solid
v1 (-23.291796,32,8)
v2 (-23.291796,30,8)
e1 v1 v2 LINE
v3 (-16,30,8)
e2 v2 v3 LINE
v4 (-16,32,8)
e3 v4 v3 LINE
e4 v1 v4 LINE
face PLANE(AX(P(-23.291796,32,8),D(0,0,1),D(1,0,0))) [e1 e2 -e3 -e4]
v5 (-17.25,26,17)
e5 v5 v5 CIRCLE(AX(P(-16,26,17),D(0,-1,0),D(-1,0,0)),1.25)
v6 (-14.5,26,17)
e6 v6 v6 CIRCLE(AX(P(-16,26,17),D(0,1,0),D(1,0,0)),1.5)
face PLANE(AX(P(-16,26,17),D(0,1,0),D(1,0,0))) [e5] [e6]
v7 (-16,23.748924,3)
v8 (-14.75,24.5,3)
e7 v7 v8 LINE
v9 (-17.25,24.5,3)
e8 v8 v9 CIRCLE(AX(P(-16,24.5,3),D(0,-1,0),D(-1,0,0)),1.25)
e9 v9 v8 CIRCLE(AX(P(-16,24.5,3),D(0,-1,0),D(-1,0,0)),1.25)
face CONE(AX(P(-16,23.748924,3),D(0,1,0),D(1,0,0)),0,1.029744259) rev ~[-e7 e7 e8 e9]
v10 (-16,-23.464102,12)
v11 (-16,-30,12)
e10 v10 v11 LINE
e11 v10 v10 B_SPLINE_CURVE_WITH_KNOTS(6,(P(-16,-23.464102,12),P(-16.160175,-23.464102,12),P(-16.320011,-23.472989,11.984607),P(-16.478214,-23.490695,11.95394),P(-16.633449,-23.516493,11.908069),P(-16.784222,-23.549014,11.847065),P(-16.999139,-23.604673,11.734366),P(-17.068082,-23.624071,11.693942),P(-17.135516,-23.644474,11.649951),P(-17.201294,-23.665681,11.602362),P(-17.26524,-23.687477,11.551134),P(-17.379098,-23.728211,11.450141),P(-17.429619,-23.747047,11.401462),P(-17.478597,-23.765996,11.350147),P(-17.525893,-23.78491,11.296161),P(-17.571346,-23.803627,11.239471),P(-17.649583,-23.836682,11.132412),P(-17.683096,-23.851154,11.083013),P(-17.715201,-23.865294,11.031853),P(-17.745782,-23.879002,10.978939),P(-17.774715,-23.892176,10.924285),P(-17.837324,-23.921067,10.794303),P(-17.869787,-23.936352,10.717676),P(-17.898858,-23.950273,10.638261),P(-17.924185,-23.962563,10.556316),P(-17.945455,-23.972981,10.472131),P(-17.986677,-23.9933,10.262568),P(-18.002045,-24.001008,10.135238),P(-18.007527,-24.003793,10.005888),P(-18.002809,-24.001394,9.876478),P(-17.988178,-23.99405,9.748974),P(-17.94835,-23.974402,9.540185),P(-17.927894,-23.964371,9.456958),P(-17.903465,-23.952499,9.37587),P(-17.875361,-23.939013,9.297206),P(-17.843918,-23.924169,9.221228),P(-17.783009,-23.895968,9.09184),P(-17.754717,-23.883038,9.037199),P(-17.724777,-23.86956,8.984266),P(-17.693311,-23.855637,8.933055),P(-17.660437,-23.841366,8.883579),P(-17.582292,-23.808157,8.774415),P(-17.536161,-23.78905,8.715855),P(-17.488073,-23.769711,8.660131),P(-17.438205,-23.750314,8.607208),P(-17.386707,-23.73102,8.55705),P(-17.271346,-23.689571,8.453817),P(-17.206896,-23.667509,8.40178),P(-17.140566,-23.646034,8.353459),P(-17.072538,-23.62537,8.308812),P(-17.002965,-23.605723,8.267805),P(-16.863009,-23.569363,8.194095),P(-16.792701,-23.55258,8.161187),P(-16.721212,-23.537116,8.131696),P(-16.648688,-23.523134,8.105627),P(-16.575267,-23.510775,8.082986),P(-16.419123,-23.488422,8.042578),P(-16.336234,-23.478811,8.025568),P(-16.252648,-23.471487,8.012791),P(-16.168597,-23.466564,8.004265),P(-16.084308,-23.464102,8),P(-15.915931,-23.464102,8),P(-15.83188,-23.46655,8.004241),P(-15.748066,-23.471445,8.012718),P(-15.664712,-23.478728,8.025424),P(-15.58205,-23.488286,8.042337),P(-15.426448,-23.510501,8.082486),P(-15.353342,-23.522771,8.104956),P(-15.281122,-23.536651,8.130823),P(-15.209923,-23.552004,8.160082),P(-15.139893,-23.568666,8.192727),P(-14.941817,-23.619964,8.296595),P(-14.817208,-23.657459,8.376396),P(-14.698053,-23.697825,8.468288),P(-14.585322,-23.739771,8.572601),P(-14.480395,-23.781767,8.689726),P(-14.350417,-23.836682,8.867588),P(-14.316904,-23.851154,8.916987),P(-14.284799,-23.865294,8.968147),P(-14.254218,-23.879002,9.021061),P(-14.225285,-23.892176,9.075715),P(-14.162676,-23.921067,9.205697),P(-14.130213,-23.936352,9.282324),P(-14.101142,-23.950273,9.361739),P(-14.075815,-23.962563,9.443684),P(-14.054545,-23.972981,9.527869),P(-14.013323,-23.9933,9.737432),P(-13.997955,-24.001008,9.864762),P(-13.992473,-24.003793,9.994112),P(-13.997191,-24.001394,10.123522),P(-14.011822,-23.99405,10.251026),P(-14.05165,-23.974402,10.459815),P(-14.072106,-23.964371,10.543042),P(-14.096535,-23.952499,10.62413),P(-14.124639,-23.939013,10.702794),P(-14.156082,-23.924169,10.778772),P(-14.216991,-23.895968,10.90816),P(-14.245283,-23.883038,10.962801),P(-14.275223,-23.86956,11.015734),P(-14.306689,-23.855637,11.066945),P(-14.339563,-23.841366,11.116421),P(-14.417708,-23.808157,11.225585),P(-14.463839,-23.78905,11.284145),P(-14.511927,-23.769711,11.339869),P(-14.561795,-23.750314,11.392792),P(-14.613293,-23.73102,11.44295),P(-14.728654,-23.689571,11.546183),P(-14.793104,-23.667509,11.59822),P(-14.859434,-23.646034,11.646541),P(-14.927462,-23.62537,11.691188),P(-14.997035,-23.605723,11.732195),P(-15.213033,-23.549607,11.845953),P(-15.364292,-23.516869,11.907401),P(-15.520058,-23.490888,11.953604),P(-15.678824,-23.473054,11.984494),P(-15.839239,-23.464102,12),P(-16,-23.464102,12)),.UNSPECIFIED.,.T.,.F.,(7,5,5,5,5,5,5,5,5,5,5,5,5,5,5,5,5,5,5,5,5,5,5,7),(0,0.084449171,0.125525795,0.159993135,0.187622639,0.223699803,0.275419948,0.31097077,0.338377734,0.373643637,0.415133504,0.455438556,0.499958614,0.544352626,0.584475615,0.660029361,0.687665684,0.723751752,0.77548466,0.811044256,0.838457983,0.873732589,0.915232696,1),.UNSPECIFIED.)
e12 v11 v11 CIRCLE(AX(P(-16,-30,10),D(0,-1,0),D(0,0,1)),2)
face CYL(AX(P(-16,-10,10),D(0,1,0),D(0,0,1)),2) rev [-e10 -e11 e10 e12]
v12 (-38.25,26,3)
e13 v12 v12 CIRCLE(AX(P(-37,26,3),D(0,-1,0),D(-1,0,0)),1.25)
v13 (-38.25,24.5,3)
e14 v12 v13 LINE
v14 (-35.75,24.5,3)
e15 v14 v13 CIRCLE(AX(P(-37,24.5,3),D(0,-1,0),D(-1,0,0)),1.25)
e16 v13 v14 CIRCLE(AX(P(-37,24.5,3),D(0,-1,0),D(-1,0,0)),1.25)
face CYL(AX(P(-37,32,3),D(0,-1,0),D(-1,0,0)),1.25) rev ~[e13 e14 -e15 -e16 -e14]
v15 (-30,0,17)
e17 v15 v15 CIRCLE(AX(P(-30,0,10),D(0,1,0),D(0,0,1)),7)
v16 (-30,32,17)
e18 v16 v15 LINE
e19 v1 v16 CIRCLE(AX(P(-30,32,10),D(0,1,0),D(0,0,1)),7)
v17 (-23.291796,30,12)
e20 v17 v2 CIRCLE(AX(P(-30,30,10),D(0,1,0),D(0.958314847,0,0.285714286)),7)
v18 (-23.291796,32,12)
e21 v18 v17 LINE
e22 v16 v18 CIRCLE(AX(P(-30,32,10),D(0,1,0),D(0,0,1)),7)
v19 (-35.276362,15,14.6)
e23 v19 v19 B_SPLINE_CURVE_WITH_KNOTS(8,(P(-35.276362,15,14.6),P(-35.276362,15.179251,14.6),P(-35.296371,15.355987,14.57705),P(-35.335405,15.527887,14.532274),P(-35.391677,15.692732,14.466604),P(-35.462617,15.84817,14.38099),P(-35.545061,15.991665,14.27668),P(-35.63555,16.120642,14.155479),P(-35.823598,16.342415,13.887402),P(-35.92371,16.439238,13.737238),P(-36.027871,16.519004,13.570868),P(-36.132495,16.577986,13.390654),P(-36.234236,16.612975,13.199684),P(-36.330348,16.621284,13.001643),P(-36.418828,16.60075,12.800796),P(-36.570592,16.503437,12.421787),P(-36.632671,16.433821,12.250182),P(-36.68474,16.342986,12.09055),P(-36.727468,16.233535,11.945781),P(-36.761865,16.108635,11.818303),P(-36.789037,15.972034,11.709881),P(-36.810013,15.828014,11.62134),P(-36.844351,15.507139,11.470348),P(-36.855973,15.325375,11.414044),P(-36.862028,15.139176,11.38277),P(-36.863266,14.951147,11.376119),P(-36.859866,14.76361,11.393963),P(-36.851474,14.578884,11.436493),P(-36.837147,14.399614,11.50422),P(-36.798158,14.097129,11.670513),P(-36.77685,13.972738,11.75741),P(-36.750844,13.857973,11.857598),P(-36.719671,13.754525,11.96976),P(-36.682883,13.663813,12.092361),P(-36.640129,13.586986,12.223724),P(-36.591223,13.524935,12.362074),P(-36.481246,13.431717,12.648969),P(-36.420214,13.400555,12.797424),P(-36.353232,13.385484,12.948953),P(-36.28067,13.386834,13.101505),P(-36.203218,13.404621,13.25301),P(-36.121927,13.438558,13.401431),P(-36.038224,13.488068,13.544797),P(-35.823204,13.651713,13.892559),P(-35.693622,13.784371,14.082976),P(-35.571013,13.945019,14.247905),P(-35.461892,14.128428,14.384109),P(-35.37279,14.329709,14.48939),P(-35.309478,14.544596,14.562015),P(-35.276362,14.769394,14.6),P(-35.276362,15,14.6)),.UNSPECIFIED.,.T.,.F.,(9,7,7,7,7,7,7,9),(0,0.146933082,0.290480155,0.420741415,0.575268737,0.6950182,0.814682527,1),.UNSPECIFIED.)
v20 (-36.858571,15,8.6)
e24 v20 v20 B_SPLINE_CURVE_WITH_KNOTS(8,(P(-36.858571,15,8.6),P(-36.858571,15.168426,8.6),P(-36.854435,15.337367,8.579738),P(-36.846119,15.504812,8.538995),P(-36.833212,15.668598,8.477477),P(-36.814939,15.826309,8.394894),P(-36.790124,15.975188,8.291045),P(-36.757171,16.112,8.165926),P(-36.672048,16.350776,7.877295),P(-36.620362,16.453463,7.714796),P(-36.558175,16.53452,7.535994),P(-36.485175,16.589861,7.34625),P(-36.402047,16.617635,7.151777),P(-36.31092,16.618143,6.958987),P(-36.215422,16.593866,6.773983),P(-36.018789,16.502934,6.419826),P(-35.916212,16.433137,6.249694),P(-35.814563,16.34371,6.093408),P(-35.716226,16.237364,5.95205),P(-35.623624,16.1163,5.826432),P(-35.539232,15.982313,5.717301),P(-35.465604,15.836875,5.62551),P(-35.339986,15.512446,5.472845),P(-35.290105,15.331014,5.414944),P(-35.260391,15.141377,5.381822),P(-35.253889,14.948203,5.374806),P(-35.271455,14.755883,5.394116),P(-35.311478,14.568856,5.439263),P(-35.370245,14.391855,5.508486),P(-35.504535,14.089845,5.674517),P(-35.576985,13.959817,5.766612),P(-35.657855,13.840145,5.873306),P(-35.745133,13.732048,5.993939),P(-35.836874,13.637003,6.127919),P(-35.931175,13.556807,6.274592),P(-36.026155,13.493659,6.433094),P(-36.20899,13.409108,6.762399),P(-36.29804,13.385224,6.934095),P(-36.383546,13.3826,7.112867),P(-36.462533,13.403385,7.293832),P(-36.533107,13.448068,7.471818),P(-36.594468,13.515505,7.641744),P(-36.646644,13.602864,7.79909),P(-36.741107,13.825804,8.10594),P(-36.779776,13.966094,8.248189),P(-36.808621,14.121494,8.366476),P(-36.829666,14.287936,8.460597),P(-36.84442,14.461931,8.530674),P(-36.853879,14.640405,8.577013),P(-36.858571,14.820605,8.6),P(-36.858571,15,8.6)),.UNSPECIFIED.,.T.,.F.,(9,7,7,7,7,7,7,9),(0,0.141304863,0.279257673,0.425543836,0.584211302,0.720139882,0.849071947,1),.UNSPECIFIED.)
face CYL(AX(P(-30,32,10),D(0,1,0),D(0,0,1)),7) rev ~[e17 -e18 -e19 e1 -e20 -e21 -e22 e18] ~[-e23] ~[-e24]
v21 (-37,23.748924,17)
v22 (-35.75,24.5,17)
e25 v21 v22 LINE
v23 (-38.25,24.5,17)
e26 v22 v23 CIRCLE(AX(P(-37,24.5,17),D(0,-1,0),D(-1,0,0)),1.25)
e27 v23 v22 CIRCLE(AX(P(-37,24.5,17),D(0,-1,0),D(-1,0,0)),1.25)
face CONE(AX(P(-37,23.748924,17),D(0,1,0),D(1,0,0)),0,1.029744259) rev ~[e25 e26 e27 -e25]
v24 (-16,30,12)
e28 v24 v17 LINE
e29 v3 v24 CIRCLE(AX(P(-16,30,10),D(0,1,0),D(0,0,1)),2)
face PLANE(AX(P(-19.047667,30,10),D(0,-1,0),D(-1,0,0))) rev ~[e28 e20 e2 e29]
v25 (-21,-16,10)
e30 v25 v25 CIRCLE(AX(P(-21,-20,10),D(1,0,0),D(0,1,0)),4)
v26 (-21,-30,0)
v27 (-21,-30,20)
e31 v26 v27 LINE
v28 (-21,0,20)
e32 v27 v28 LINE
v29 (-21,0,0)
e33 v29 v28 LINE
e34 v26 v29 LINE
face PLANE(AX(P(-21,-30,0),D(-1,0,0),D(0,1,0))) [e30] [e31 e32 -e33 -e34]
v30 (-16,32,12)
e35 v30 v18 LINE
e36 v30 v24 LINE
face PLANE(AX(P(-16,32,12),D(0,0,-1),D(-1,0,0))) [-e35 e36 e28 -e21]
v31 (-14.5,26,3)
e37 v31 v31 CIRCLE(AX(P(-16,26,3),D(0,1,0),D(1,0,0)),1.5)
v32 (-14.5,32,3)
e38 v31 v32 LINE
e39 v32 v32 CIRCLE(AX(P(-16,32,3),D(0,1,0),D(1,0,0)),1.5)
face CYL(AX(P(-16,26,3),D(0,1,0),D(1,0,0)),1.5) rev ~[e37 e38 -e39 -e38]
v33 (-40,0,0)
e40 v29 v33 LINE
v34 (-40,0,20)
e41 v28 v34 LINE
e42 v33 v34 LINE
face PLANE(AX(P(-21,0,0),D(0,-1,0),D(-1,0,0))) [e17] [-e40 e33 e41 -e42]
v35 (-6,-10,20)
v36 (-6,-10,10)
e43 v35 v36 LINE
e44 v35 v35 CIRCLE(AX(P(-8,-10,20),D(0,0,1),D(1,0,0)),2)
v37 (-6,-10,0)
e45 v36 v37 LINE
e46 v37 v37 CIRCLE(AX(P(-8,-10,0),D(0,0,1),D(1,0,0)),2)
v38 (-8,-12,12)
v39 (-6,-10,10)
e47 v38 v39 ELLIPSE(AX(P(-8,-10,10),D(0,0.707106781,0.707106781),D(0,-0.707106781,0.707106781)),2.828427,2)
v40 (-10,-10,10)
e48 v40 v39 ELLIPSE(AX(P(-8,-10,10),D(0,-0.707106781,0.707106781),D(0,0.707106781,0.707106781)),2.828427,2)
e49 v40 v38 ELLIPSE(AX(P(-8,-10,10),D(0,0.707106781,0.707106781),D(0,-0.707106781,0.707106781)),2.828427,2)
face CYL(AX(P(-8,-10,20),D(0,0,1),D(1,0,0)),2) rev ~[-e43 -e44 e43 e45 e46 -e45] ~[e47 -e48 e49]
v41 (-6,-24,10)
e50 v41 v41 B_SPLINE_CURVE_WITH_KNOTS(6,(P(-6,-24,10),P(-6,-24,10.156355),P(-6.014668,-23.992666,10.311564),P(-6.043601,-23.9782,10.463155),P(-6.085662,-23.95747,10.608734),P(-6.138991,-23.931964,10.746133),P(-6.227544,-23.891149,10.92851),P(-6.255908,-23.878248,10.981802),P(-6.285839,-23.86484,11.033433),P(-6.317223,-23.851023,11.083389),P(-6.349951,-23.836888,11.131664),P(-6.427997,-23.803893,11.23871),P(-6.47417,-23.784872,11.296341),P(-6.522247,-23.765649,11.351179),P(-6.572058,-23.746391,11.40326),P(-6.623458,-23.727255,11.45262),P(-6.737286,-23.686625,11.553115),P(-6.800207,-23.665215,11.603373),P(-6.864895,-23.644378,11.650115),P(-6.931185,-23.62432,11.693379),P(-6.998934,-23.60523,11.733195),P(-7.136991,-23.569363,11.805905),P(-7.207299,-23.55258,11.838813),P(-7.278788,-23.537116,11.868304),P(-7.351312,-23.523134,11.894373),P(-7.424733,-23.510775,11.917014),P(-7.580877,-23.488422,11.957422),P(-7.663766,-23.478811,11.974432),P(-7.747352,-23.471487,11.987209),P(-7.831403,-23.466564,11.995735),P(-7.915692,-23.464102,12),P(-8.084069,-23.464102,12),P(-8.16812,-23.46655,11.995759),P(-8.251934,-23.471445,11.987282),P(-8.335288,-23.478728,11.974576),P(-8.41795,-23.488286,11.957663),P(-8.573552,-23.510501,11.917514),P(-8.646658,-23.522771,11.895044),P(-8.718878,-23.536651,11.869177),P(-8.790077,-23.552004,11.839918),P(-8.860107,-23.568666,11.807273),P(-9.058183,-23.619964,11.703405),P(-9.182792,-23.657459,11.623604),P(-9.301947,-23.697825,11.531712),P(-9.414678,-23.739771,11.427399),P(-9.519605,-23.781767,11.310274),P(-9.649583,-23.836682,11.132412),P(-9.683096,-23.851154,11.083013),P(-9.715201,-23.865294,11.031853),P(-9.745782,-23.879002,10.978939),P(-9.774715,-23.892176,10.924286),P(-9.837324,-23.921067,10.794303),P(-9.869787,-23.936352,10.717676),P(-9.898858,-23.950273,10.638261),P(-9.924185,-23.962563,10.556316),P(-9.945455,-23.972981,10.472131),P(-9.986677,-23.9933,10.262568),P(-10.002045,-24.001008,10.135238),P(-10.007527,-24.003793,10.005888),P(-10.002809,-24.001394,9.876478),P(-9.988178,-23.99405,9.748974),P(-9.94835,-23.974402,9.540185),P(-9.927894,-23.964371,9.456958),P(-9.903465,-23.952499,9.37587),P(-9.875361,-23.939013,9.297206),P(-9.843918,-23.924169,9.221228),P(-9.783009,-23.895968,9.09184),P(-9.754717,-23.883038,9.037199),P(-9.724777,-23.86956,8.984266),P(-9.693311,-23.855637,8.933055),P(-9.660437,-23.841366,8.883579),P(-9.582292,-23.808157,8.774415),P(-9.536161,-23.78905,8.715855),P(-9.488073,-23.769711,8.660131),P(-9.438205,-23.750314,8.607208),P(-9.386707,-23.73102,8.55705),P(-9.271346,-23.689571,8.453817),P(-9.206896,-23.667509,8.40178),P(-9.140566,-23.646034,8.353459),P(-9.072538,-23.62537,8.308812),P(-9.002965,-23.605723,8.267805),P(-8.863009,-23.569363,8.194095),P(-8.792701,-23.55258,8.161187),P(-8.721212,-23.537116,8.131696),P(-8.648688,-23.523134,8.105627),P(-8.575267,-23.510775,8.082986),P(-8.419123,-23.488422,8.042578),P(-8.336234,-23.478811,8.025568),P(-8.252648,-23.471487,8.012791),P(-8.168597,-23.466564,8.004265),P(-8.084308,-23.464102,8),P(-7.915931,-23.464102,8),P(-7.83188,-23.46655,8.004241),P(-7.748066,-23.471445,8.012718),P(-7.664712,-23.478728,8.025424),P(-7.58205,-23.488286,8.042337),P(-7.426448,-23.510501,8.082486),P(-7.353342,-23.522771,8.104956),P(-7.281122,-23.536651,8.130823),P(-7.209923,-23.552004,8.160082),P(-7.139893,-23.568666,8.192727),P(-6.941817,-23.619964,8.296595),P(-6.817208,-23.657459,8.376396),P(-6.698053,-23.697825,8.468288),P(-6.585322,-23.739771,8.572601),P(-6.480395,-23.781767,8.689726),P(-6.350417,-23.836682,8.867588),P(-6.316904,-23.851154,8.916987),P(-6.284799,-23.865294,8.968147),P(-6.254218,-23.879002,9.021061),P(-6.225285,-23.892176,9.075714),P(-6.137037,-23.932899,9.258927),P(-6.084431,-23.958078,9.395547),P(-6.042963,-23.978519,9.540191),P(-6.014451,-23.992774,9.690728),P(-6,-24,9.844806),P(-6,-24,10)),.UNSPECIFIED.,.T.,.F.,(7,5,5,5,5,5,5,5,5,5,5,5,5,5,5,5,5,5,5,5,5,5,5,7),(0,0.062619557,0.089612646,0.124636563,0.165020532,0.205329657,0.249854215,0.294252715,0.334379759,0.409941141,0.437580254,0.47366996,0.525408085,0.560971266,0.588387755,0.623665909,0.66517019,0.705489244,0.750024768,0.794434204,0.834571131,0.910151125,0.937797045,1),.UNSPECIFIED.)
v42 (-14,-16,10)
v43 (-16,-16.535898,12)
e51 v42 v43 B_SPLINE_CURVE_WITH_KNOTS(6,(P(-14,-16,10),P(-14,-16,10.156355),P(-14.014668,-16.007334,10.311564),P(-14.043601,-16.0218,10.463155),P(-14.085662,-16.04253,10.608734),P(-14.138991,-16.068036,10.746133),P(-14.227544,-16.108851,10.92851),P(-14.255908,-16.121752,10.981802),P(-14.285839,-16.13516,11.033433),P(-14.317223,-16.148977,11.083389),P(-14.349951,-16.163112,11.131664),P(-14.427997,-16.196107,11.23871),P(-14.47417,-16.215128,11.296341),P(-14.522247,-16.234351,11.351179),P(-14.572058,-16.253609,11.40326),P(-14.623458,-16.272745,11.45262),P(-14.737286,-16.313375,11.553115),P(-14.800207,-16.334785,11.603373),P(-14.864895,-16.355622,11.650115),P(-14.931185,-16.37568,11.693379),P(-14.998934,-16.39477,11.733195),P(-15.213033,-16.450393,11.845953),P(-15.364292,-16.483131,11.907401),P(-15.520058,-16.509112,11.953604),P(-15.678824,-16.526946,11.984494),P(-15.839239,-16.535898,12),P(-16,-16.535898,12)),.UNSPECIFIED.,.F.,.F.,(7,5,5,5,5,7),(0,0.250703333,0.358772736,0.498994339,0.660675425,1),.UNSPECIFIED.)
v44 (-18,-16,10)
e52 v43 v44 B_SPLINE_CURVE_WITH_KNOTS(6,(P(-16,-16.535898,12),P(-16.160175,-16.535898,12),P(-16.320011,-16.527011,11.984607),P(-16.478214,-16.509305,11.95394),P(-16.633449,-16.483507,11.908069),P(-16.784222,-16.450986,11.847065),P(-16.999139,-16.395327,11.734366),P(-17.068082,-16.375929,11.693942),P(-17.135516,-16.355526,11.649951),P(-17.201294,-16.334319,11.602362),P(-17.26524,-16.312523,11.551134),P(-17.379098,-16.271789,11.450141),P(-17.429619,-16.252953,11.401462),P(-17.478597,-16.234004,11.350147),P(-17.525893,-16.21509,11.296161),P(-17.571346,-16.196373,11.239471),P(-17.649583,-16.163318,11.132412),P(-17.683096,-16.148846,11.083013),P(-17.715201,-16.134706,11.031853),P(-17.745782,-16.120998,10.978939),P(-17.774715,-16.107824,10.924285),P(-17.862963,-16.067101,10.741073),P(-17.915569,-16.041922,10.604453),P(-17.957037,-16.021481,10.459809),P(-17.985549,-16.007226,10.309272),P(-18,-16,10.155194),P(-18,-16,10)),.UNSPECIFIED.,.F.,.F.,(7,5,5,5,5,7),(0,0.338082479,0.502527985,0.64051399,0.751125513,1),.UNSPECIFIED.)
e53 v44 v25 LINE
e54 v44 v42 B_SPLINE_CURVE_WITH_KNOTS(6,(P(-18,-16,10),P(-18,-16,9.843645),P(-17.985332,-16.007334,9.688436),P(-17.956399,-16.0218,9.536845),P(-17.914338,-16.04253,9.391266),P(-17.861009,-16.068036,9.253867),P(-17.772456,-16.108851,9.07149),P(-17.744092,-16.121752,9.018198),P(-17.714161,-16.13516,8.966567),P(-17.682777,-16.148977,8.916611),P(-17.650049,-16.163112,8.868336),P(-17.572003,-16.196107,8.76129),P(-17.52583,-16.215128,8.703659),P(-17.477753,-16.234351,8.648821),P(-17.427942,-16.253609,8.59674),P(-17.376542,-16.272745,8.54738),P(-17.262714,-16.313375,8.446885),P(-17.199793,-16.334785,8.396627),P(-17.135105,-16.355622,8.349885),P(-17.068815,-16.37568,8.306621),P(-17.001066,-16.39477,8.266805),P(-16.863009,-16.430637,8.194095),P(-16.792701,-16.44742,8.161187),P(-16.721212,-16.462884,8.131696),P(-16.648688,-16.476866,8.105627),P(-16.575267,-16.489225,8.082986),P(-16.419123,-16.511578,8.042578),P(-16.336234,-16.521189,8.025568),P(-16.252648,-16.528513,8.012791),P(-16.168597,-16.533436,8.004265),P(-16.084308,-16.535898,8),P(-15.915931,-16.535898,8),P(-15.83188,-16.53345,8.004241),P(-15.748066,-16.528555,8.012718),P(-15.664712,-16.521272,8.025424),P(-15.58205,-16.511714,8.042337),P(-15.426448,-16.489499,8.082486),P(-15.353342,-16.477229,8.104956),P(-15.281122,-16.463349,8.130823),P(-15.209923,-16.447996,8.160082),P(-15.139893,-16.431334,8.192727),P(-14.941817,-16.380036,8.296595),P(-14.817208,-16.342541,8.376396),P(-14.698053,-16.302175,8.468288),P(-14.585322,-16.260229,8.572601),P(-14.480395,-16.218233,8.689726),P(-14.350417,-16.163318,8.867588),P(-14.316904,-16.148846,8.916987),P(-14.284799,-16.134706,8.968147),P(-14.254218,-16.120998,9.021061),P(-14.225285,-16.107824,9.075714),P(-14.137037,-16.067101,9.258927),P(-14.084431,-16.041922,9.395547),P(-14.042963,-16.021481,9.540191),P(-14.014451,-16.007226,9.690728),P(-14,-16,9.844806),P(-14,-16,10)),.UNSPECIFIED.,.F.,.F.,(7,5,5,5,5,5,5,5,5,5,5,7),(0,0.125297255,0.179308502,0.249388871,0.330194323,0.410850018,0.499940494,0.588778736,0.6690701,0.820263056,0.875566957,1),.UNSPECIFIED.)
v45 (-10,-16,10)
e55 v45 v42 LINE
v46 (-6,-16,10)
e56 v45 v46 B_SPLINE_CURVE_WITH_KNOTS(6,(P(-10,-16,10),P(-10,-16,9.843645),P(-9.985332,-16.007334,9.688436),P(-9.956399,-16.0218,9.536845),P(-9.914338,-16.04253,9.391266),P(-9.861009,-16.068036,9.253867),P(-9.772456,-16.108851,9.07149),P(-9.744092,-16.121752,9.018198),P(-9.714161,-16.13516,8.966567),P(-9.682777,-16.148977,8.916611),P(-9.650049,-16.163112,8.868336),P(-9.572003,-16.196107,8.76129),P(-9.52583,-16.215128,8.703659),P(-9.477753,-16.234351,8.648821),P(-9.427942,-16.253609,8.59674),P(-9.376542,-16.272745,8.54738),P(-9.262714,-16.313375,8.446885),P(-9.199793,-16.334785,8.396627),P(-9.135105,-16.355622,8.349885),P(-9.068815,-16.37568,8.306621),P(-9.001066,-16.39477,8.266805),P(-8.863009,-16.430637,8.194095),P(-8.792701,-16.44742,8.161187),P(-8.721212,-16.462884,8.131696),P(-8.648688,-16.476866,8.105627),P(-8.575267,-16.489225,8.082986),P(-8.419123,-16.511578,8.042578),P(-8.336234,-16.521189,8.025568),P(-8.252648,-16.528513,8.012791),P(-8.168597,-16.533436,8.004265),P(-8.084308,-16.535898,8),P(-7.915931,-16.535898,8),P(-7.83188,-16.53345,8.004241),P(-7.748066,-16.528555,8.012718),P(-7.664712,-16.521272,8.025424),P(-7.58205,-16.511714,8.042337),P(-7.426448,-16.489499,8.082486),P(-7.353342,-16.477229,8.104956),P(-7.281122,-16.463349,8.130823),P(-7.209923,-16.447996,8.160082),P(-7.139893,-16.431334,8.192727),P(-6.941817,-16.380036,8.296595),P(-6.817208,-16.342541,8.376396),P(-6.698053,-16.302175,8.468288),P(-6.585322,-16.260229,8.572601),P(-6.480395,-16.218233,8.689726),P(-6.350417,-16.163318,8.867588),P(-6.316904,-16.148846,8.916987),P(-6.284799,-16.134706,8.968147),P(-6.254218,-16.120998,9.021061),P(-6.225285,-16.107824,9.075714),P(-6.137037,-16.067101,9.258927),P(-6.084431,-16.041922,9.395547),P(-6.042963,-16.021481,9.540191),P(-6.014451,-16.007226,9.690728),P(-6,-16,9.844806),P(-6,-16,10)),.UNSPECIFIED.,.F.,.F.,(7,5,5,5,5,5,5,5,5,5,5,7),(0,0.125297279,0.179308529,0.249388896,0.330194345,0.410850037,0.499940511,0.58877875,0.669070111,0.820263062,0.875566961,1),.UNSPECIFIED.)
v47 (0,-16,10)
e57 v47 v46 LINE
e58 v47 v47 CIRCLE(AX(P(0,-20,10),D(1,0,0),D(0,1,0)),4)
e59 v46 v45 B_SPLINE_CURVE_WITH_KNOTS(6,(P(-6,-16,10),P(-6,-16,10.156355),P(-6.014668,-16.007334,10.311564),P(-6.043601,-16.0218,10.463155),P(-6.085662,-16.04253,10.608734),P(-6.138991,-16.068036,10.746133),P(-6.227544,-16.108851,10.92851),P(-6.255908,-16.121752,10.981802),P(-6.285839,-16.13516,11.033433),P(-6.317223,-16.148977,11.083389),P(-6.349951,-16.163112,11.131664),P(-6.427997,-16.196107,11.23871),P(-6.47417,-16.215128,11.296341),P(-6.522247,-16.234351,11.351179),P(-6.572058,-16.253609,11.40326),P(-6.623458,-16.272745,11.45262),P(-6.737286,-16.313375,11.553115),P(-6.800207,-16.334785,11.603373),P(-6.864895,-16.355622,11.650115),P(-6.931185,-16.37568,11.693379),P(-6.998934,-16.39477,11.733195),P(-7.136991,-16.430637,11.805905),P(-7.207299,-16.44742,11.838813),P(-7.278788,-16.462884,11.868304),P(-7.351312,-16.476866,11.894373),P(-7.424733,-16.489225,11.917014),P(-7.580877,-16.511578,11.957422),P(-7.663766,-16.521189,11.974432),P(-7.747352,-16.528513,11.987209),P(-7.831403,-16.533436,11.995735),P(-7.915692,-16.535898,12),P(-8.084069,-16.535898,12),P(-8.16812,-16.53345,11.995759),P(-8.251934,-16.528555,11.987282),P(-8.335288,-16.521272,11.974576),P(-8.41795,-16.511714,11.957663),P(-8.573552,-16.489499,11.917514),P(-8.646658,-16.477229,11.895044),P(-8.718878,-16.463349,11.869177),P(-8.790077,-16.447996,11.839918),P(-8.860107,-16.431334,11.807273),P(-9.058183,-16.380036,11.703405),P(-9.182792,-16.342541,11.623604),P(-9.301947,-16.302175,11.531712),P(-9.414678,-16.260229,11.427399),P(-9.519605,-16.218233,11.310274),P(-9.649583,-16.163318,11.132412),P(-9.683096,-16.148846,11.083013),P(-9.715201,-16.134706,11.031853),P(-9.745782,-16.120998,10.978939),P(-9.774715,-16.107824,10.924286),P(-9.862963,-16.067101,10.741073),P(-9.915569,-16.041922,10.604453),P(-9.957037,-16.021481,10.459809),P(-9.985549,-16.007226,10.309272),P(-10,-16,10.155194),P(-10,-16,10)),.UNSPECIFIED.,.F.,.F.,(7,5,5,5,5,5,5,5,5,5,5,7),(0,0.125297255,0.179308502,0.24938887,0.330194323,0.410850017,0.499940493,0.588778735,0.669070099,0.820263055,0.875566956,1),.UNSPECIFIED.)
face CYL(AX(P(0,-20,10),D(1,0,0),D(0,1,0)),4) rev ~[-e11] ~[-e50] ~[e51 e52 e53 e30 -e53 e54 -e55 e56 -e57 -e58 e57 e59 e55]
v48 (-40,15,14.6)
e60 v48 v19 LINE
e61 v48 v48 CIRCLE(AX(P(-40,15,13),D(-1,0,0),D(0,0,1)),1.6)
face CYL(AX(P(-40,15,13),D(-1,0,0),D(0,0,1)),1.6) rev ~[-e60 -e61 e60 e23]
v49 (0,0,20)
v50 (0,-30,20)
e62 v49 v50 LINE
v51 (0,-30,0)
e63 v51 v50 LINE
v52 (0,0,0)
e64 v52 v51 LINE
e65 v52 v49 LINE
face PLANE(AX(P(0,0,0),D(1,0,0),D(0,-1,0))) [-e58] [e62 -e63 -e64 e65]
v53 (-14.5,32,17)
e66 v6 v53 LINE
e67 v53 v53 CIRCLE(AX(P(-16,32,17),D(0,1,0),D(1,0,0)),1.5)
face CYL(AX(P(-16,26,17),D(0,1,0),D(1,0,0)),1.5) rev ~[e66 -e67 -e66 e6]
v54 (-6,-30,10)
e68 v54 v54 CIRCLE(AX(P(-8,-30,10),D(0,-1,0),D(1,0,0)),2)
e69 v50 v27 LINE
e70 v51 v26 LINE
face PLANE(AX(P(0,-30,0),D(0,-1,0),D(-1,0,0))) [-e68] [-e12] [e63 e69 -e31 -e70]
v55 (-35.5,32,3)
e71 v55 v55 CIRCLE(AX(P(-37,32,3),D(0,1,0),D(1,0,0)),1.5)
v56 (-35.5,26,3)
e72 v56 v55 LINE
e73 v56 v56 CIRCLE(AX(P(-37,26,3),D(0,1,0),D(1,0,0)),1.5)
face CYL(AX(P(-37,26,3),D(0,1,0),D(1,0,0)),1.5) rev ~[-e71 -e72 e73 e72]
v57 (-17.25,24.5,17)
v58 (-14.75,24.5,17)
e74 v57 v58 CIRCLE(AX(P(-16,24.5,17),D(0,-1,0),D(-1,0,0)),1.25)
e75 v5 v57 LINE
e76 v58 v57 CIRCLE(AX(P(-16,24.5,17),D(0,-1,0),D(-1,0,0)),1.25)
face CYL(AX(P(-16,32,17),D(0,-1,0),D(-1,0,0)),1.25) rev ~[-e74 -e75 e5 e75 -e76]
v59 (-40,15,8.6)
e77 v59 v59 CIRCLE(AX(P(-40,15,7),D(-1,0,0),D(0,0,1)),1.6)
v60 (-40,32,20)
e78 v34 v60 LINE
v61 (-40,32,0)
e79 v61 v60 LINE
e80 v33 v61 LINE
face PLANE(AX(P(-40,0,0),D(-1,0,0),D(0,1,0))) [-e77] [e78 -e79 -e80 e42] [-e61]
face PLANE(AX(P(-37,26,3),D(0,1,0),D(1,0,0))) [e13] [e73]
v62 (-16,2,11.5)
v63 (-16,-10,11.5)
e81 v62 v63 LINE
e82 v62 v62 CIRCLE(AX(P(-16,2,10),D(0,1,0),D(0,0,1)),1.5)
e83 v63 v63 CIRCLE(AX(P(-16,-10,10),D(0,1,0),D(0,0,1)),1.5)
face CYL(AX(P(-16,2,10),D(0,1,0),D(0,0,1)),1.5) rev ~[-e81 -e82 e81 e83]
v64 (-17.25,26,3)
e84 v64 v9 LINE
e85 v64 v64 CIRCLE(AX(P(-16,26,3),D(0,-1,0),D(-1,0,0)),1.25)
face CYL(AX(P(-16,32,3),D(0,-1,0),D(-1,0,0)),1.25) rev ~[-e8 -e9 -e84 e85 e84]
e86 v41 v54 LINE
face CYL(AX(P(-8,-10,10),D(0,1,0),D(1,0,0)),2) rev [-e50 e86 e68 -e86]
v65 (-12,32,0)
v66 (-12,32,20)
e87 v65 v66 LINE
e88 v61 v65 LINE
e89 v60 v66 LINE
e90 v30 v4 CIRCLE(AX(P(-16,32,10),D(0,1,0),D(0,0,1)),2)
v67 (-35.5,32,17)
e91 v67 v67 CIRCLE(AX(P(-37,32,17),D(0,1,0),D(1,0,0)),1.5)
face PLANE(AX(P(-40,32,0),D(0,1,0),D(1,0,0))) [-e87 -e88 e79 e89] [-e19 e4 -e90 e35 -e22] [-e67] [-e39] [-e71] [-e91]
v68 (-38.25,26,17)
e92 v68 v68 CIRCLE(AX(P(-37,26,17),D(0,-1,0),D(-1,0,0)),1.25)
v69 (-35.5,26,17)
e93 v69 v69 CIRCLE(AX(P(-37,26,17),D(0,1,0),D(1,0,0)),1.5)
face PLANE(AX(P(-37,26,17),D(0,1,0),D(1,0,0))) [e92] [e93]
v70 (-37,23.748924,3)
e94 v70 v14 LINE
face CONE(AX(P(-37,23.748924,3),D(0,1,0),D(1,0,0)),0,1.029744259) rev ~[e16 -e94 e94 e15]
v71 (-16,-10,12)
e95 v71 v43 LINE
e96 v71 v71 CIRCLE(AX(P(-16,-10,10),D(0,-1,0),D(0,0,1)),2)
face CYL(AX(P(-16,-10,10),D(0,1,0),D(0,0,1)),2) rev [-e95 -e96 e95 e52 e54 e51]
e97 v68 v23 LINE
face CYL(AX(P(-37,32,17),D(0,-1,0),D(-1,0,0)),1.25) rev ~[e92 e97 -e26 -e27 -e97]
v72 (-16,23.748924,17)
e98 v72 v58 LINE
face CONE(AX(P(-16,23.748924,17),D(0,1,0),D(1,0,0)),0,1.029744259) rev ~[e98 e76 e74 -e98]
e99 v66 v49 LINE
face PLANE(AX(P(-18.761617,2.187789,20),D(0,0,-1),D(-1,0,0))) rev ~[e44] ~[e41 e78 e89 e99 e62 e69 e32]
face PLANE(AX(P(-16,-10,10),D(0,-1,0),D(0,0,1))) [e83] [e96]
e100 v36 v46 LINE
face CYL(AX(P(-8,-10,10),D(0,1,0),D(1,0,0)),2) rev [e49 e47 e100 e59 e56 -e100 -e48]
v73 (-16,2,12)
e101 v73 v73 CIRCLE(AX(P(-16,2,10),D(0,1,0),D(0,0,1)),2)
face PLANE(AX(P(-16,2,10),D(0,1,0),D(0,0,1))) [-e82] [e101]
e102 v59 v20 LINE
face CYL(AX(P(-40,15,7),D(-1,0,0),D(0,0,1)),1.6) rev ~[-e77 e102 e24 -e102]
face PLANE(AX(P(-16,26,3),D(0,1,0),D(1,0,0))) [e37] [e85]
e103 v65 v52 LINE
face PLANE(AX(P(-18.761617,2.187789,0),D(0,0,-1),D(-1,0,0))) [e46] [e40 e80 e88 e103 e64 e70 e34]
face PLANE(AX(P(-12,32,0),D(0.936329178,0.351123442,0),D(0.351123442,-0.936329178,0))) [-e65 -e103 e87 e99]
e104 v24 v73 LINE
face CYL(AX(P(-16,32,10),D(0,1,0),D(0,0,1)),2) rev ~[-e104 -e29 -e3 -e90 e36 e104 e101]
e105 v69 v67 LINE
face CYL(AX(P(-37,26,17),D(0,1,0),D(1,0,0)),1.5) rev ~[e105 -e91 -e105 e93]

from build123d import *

# Parameters (mm, degrees)
BOSS_EXTRUDE1_DEPTH         = 20
SKETCH2_R                   = 7
CUT_EXTRUDE1_DEPTH          = 77.446059414
SKETCH3_R                   = 4
CUT_EXTRUDE2_DEPTH          = 55.990908339
SKETCH4_R                   = 2
CUT_EXTRUDE3_DEPTH          = 30
CUT_EXTRUDE5_DEPTH          = 2
SKETCH6_R                   = 2
CUT_EXTRUDE6_DEPTH          = 55.990908339
CUT_EXTRUDE7_REACH          = 56.991
CUT_EXTRUDE7_END_RADIUS     = 7
SKETCH7_R                   = 1.6
M3_TAPPED_HOLE1_D           = 2.5
M3_TAPPED_HOLE1_DEPTH       = 7.5
M3_TAPPED_HOLE1_CBORE_D     = 3
M3_TAPPED_HOLE1_CBORE_DEPTH = 6
M3_TAPPED_HOLE1_TIP         = 0.751075774
CUT_EXTRUDE8_START          = -20
SKETCH11_R                  = 2
CUT_EXTRUDE8_DEPTH          = 20
SKETCH12_R                  = 1.5
CUT_EXTRUDE9_DEPTH          = 12


with BuildPart() as part:
    # Sketch1 → Boss-Extrude1 (new body)
    with BuildSketch(Plane.XY):
        Polygon((0, 0), (0, -30), (-21, -30), (-21, 0), (-40, 0), (-40, 32), (-12, 32), align=None)
    extrude(amount=BOSS_EXTRUDE1_DEPTH)

    # Sketch2 → Cut-Extrude1 (cut, through all)
    with BuildSketch(Plane(origin=(0, 32, 0), x_dir=(1, 0, 0), z_dir=(0, 1, 0))):
        with Locations(Location((-30, -10, 0), (0, 0, 270))):
            Circle(SKETCH2_R)
    extrude(amount=-CUT_EXTRUDE1_DEPTH, mode=Mode.SUBTRACT)

    # Sketch3 → Cut-Extrude2 (cut, through all)
    with BuildSketch(Plane(origin=(0, 0, 0), x_dir=(0, 0, -1), z_dir=(1, 0, 0))):
        with Locations(Location((-10, -20, 0), (0, 0, 90))):
            Circle(SKETCH3_R)
    extrude(amount=-CUT_EXTRUDE2_DEPTH, mode=Mode.SUBTRACT)

    # Sketch4 → Cut-Extrude3 (cut)
    with BuildSketch(Plane(origin=(0, 32, 0), x_dir=(1, 0, 0), z_dir=(0, 1, 0))):
        with Locations(Location((-16, -10, 0), (0, 0, 270))):
            Circle(SKETCH4_R)
    extrude(amount=-CUT_EXTRUDE3_DEPTH, mode=Mode.SUBTRACT)

    # Sketch5 → Cut-Extrude5 (cut)
    with BuildSketch(Plane(origin=(0, 32, 0), x_dir=(1, 0, 0), z_dir=(0, 1, 0))):
        with BuildLine():
            Line((-16, -12), (-23.291796068, -12))
            ThreePointArc((-23.291796068, -12), (-23, -10), (-23.291796068, -8))
            Line((-23.291796068, -8), (-16, -8))
            ThreePointArc((-16, -8), (-14, -10), (-16, -12))
        make_face()
    extrude(amount=-CUT_EXTRUDE5_DEPTH, mode=Mode.SUBTRACT)

    # Sketch6 → Cut-Extrude6 (cut, through all)
    with BuildSketch(Plane.XY.offset(20)):
        with Locations((-8, -10)):
            Circle(SKETCH6_R)
    extrude(amount=-CUT_EXTRUDE6_DEPTH, mode=Mode.SUBTRACT)

    # Cut-Extrude7: up to this cylinder (the profile starts outside it)
    cut_extrude7_end = Plane(origin=(-30, 15, 10), z_dir=(0, 1, 0)) * Cylinder(CUT_EXTRUDE7_END_RADIUS, 128.982, mode=Mode.PRIVATE)
    # Sketch7 → Cut-Extrude7 (cut, up to the surface)
    with BuildSketch(Plane.ZY.offset(40), mode=Mode.PRIVATE) as cut_extrude7_sk1:
        with Locations((7, 15)):
            Circle(SKETCH7_R)
    cut_extrude7_tool1 = extrude(cut_extrude7_sk1.sketch, amount=-CUT_EXTRUDE7_REACH, mode=Mode.PRIVATE) - cut_extrude7_end
    add(cut_extrude7_tool1.solids().sort_by_distance((-40, 15, 7))[0], mode=Mode.SUBTRACT)
    # Sketch7 → Cut-Extrude7 (cut, up to the surface)
    with BuildSketch(Plane.ZY.offset(40), mode=Mode.PRIVATE) as cut_extrude7_sk2:
        with Locations((13, 15)):
            Circle(SKETCH7_R)
    cut_extrude7_tool2 = extrude(cut_extrude7_sk2.sketch, amount=-CUT_EXTRUDE7_REACH, mode=Mode.PRIVATE) - cut_extrude7_end
    add(cut_extrude7_tool2.solids().sort_by_distance((-40, 15, 13))[0], mode=Mode.SUBTRACT)

    # M3 Tapped Hole1
    with Locations(Plane(origin=(0, 32, 0), x_dir=(1, 0, 0), z_dir=(0, 1, 0))):
        with Locations((-37, -3), (-16, -3), (-16, -17), (-37, -17)):
            CounterBoreHole(M3_TAPPED_HOLE1_D / 2, M3_TAPPED_HOLE1_CBORE_D / 2, M3_TAPPED_HOLE1_CBORE_DEPTH, depth=M3_TAPPED_HOLE1_DEPTH)
            with Locations((0, 0, -(M3_TAPPED_HOLE1_DEPTH + M3_TAPPED_HOLE1_TIP / 2))):  # 118° drill point
                Cone(0, M3_TAPPED_HOLE1_D / 2, M3_TAPPED_HOLE1_TIP, mode=Mode.SUBTRACT)

    # Sketch11 → Cut-Extrude8 (cut)
    with BuildSketch(Plane.XZ.offset(30).offset(CUT_EXTRUDE8_START)):
        with Locations((-8, 10)):
            Circle(SKETCH11_R)
        with Locations(Location((-16, 10, 0), (0, 0, 90))):
            Circle(SKETCH11_R)
    extrude(amount=CUT_EXTRUDE8_DEPTH, mode=Mode.SUBTRACT)

    # Sketch12 → Cut-Extrude9 (cut)
    with BuildSketch(Plane(origin=(0, 2, 0), x_dir=(1, 0, 0), z_dir=(0, 1, 0))):
        with Locations(Location((-16, -10, 0), (0, 0, 270))):
            Circle(SKETCH12_R)
    extrude(amount=-CUT_EXTRUDE9_DEPTH, mode=Mode.SUBTRACT)


solid = part.part
